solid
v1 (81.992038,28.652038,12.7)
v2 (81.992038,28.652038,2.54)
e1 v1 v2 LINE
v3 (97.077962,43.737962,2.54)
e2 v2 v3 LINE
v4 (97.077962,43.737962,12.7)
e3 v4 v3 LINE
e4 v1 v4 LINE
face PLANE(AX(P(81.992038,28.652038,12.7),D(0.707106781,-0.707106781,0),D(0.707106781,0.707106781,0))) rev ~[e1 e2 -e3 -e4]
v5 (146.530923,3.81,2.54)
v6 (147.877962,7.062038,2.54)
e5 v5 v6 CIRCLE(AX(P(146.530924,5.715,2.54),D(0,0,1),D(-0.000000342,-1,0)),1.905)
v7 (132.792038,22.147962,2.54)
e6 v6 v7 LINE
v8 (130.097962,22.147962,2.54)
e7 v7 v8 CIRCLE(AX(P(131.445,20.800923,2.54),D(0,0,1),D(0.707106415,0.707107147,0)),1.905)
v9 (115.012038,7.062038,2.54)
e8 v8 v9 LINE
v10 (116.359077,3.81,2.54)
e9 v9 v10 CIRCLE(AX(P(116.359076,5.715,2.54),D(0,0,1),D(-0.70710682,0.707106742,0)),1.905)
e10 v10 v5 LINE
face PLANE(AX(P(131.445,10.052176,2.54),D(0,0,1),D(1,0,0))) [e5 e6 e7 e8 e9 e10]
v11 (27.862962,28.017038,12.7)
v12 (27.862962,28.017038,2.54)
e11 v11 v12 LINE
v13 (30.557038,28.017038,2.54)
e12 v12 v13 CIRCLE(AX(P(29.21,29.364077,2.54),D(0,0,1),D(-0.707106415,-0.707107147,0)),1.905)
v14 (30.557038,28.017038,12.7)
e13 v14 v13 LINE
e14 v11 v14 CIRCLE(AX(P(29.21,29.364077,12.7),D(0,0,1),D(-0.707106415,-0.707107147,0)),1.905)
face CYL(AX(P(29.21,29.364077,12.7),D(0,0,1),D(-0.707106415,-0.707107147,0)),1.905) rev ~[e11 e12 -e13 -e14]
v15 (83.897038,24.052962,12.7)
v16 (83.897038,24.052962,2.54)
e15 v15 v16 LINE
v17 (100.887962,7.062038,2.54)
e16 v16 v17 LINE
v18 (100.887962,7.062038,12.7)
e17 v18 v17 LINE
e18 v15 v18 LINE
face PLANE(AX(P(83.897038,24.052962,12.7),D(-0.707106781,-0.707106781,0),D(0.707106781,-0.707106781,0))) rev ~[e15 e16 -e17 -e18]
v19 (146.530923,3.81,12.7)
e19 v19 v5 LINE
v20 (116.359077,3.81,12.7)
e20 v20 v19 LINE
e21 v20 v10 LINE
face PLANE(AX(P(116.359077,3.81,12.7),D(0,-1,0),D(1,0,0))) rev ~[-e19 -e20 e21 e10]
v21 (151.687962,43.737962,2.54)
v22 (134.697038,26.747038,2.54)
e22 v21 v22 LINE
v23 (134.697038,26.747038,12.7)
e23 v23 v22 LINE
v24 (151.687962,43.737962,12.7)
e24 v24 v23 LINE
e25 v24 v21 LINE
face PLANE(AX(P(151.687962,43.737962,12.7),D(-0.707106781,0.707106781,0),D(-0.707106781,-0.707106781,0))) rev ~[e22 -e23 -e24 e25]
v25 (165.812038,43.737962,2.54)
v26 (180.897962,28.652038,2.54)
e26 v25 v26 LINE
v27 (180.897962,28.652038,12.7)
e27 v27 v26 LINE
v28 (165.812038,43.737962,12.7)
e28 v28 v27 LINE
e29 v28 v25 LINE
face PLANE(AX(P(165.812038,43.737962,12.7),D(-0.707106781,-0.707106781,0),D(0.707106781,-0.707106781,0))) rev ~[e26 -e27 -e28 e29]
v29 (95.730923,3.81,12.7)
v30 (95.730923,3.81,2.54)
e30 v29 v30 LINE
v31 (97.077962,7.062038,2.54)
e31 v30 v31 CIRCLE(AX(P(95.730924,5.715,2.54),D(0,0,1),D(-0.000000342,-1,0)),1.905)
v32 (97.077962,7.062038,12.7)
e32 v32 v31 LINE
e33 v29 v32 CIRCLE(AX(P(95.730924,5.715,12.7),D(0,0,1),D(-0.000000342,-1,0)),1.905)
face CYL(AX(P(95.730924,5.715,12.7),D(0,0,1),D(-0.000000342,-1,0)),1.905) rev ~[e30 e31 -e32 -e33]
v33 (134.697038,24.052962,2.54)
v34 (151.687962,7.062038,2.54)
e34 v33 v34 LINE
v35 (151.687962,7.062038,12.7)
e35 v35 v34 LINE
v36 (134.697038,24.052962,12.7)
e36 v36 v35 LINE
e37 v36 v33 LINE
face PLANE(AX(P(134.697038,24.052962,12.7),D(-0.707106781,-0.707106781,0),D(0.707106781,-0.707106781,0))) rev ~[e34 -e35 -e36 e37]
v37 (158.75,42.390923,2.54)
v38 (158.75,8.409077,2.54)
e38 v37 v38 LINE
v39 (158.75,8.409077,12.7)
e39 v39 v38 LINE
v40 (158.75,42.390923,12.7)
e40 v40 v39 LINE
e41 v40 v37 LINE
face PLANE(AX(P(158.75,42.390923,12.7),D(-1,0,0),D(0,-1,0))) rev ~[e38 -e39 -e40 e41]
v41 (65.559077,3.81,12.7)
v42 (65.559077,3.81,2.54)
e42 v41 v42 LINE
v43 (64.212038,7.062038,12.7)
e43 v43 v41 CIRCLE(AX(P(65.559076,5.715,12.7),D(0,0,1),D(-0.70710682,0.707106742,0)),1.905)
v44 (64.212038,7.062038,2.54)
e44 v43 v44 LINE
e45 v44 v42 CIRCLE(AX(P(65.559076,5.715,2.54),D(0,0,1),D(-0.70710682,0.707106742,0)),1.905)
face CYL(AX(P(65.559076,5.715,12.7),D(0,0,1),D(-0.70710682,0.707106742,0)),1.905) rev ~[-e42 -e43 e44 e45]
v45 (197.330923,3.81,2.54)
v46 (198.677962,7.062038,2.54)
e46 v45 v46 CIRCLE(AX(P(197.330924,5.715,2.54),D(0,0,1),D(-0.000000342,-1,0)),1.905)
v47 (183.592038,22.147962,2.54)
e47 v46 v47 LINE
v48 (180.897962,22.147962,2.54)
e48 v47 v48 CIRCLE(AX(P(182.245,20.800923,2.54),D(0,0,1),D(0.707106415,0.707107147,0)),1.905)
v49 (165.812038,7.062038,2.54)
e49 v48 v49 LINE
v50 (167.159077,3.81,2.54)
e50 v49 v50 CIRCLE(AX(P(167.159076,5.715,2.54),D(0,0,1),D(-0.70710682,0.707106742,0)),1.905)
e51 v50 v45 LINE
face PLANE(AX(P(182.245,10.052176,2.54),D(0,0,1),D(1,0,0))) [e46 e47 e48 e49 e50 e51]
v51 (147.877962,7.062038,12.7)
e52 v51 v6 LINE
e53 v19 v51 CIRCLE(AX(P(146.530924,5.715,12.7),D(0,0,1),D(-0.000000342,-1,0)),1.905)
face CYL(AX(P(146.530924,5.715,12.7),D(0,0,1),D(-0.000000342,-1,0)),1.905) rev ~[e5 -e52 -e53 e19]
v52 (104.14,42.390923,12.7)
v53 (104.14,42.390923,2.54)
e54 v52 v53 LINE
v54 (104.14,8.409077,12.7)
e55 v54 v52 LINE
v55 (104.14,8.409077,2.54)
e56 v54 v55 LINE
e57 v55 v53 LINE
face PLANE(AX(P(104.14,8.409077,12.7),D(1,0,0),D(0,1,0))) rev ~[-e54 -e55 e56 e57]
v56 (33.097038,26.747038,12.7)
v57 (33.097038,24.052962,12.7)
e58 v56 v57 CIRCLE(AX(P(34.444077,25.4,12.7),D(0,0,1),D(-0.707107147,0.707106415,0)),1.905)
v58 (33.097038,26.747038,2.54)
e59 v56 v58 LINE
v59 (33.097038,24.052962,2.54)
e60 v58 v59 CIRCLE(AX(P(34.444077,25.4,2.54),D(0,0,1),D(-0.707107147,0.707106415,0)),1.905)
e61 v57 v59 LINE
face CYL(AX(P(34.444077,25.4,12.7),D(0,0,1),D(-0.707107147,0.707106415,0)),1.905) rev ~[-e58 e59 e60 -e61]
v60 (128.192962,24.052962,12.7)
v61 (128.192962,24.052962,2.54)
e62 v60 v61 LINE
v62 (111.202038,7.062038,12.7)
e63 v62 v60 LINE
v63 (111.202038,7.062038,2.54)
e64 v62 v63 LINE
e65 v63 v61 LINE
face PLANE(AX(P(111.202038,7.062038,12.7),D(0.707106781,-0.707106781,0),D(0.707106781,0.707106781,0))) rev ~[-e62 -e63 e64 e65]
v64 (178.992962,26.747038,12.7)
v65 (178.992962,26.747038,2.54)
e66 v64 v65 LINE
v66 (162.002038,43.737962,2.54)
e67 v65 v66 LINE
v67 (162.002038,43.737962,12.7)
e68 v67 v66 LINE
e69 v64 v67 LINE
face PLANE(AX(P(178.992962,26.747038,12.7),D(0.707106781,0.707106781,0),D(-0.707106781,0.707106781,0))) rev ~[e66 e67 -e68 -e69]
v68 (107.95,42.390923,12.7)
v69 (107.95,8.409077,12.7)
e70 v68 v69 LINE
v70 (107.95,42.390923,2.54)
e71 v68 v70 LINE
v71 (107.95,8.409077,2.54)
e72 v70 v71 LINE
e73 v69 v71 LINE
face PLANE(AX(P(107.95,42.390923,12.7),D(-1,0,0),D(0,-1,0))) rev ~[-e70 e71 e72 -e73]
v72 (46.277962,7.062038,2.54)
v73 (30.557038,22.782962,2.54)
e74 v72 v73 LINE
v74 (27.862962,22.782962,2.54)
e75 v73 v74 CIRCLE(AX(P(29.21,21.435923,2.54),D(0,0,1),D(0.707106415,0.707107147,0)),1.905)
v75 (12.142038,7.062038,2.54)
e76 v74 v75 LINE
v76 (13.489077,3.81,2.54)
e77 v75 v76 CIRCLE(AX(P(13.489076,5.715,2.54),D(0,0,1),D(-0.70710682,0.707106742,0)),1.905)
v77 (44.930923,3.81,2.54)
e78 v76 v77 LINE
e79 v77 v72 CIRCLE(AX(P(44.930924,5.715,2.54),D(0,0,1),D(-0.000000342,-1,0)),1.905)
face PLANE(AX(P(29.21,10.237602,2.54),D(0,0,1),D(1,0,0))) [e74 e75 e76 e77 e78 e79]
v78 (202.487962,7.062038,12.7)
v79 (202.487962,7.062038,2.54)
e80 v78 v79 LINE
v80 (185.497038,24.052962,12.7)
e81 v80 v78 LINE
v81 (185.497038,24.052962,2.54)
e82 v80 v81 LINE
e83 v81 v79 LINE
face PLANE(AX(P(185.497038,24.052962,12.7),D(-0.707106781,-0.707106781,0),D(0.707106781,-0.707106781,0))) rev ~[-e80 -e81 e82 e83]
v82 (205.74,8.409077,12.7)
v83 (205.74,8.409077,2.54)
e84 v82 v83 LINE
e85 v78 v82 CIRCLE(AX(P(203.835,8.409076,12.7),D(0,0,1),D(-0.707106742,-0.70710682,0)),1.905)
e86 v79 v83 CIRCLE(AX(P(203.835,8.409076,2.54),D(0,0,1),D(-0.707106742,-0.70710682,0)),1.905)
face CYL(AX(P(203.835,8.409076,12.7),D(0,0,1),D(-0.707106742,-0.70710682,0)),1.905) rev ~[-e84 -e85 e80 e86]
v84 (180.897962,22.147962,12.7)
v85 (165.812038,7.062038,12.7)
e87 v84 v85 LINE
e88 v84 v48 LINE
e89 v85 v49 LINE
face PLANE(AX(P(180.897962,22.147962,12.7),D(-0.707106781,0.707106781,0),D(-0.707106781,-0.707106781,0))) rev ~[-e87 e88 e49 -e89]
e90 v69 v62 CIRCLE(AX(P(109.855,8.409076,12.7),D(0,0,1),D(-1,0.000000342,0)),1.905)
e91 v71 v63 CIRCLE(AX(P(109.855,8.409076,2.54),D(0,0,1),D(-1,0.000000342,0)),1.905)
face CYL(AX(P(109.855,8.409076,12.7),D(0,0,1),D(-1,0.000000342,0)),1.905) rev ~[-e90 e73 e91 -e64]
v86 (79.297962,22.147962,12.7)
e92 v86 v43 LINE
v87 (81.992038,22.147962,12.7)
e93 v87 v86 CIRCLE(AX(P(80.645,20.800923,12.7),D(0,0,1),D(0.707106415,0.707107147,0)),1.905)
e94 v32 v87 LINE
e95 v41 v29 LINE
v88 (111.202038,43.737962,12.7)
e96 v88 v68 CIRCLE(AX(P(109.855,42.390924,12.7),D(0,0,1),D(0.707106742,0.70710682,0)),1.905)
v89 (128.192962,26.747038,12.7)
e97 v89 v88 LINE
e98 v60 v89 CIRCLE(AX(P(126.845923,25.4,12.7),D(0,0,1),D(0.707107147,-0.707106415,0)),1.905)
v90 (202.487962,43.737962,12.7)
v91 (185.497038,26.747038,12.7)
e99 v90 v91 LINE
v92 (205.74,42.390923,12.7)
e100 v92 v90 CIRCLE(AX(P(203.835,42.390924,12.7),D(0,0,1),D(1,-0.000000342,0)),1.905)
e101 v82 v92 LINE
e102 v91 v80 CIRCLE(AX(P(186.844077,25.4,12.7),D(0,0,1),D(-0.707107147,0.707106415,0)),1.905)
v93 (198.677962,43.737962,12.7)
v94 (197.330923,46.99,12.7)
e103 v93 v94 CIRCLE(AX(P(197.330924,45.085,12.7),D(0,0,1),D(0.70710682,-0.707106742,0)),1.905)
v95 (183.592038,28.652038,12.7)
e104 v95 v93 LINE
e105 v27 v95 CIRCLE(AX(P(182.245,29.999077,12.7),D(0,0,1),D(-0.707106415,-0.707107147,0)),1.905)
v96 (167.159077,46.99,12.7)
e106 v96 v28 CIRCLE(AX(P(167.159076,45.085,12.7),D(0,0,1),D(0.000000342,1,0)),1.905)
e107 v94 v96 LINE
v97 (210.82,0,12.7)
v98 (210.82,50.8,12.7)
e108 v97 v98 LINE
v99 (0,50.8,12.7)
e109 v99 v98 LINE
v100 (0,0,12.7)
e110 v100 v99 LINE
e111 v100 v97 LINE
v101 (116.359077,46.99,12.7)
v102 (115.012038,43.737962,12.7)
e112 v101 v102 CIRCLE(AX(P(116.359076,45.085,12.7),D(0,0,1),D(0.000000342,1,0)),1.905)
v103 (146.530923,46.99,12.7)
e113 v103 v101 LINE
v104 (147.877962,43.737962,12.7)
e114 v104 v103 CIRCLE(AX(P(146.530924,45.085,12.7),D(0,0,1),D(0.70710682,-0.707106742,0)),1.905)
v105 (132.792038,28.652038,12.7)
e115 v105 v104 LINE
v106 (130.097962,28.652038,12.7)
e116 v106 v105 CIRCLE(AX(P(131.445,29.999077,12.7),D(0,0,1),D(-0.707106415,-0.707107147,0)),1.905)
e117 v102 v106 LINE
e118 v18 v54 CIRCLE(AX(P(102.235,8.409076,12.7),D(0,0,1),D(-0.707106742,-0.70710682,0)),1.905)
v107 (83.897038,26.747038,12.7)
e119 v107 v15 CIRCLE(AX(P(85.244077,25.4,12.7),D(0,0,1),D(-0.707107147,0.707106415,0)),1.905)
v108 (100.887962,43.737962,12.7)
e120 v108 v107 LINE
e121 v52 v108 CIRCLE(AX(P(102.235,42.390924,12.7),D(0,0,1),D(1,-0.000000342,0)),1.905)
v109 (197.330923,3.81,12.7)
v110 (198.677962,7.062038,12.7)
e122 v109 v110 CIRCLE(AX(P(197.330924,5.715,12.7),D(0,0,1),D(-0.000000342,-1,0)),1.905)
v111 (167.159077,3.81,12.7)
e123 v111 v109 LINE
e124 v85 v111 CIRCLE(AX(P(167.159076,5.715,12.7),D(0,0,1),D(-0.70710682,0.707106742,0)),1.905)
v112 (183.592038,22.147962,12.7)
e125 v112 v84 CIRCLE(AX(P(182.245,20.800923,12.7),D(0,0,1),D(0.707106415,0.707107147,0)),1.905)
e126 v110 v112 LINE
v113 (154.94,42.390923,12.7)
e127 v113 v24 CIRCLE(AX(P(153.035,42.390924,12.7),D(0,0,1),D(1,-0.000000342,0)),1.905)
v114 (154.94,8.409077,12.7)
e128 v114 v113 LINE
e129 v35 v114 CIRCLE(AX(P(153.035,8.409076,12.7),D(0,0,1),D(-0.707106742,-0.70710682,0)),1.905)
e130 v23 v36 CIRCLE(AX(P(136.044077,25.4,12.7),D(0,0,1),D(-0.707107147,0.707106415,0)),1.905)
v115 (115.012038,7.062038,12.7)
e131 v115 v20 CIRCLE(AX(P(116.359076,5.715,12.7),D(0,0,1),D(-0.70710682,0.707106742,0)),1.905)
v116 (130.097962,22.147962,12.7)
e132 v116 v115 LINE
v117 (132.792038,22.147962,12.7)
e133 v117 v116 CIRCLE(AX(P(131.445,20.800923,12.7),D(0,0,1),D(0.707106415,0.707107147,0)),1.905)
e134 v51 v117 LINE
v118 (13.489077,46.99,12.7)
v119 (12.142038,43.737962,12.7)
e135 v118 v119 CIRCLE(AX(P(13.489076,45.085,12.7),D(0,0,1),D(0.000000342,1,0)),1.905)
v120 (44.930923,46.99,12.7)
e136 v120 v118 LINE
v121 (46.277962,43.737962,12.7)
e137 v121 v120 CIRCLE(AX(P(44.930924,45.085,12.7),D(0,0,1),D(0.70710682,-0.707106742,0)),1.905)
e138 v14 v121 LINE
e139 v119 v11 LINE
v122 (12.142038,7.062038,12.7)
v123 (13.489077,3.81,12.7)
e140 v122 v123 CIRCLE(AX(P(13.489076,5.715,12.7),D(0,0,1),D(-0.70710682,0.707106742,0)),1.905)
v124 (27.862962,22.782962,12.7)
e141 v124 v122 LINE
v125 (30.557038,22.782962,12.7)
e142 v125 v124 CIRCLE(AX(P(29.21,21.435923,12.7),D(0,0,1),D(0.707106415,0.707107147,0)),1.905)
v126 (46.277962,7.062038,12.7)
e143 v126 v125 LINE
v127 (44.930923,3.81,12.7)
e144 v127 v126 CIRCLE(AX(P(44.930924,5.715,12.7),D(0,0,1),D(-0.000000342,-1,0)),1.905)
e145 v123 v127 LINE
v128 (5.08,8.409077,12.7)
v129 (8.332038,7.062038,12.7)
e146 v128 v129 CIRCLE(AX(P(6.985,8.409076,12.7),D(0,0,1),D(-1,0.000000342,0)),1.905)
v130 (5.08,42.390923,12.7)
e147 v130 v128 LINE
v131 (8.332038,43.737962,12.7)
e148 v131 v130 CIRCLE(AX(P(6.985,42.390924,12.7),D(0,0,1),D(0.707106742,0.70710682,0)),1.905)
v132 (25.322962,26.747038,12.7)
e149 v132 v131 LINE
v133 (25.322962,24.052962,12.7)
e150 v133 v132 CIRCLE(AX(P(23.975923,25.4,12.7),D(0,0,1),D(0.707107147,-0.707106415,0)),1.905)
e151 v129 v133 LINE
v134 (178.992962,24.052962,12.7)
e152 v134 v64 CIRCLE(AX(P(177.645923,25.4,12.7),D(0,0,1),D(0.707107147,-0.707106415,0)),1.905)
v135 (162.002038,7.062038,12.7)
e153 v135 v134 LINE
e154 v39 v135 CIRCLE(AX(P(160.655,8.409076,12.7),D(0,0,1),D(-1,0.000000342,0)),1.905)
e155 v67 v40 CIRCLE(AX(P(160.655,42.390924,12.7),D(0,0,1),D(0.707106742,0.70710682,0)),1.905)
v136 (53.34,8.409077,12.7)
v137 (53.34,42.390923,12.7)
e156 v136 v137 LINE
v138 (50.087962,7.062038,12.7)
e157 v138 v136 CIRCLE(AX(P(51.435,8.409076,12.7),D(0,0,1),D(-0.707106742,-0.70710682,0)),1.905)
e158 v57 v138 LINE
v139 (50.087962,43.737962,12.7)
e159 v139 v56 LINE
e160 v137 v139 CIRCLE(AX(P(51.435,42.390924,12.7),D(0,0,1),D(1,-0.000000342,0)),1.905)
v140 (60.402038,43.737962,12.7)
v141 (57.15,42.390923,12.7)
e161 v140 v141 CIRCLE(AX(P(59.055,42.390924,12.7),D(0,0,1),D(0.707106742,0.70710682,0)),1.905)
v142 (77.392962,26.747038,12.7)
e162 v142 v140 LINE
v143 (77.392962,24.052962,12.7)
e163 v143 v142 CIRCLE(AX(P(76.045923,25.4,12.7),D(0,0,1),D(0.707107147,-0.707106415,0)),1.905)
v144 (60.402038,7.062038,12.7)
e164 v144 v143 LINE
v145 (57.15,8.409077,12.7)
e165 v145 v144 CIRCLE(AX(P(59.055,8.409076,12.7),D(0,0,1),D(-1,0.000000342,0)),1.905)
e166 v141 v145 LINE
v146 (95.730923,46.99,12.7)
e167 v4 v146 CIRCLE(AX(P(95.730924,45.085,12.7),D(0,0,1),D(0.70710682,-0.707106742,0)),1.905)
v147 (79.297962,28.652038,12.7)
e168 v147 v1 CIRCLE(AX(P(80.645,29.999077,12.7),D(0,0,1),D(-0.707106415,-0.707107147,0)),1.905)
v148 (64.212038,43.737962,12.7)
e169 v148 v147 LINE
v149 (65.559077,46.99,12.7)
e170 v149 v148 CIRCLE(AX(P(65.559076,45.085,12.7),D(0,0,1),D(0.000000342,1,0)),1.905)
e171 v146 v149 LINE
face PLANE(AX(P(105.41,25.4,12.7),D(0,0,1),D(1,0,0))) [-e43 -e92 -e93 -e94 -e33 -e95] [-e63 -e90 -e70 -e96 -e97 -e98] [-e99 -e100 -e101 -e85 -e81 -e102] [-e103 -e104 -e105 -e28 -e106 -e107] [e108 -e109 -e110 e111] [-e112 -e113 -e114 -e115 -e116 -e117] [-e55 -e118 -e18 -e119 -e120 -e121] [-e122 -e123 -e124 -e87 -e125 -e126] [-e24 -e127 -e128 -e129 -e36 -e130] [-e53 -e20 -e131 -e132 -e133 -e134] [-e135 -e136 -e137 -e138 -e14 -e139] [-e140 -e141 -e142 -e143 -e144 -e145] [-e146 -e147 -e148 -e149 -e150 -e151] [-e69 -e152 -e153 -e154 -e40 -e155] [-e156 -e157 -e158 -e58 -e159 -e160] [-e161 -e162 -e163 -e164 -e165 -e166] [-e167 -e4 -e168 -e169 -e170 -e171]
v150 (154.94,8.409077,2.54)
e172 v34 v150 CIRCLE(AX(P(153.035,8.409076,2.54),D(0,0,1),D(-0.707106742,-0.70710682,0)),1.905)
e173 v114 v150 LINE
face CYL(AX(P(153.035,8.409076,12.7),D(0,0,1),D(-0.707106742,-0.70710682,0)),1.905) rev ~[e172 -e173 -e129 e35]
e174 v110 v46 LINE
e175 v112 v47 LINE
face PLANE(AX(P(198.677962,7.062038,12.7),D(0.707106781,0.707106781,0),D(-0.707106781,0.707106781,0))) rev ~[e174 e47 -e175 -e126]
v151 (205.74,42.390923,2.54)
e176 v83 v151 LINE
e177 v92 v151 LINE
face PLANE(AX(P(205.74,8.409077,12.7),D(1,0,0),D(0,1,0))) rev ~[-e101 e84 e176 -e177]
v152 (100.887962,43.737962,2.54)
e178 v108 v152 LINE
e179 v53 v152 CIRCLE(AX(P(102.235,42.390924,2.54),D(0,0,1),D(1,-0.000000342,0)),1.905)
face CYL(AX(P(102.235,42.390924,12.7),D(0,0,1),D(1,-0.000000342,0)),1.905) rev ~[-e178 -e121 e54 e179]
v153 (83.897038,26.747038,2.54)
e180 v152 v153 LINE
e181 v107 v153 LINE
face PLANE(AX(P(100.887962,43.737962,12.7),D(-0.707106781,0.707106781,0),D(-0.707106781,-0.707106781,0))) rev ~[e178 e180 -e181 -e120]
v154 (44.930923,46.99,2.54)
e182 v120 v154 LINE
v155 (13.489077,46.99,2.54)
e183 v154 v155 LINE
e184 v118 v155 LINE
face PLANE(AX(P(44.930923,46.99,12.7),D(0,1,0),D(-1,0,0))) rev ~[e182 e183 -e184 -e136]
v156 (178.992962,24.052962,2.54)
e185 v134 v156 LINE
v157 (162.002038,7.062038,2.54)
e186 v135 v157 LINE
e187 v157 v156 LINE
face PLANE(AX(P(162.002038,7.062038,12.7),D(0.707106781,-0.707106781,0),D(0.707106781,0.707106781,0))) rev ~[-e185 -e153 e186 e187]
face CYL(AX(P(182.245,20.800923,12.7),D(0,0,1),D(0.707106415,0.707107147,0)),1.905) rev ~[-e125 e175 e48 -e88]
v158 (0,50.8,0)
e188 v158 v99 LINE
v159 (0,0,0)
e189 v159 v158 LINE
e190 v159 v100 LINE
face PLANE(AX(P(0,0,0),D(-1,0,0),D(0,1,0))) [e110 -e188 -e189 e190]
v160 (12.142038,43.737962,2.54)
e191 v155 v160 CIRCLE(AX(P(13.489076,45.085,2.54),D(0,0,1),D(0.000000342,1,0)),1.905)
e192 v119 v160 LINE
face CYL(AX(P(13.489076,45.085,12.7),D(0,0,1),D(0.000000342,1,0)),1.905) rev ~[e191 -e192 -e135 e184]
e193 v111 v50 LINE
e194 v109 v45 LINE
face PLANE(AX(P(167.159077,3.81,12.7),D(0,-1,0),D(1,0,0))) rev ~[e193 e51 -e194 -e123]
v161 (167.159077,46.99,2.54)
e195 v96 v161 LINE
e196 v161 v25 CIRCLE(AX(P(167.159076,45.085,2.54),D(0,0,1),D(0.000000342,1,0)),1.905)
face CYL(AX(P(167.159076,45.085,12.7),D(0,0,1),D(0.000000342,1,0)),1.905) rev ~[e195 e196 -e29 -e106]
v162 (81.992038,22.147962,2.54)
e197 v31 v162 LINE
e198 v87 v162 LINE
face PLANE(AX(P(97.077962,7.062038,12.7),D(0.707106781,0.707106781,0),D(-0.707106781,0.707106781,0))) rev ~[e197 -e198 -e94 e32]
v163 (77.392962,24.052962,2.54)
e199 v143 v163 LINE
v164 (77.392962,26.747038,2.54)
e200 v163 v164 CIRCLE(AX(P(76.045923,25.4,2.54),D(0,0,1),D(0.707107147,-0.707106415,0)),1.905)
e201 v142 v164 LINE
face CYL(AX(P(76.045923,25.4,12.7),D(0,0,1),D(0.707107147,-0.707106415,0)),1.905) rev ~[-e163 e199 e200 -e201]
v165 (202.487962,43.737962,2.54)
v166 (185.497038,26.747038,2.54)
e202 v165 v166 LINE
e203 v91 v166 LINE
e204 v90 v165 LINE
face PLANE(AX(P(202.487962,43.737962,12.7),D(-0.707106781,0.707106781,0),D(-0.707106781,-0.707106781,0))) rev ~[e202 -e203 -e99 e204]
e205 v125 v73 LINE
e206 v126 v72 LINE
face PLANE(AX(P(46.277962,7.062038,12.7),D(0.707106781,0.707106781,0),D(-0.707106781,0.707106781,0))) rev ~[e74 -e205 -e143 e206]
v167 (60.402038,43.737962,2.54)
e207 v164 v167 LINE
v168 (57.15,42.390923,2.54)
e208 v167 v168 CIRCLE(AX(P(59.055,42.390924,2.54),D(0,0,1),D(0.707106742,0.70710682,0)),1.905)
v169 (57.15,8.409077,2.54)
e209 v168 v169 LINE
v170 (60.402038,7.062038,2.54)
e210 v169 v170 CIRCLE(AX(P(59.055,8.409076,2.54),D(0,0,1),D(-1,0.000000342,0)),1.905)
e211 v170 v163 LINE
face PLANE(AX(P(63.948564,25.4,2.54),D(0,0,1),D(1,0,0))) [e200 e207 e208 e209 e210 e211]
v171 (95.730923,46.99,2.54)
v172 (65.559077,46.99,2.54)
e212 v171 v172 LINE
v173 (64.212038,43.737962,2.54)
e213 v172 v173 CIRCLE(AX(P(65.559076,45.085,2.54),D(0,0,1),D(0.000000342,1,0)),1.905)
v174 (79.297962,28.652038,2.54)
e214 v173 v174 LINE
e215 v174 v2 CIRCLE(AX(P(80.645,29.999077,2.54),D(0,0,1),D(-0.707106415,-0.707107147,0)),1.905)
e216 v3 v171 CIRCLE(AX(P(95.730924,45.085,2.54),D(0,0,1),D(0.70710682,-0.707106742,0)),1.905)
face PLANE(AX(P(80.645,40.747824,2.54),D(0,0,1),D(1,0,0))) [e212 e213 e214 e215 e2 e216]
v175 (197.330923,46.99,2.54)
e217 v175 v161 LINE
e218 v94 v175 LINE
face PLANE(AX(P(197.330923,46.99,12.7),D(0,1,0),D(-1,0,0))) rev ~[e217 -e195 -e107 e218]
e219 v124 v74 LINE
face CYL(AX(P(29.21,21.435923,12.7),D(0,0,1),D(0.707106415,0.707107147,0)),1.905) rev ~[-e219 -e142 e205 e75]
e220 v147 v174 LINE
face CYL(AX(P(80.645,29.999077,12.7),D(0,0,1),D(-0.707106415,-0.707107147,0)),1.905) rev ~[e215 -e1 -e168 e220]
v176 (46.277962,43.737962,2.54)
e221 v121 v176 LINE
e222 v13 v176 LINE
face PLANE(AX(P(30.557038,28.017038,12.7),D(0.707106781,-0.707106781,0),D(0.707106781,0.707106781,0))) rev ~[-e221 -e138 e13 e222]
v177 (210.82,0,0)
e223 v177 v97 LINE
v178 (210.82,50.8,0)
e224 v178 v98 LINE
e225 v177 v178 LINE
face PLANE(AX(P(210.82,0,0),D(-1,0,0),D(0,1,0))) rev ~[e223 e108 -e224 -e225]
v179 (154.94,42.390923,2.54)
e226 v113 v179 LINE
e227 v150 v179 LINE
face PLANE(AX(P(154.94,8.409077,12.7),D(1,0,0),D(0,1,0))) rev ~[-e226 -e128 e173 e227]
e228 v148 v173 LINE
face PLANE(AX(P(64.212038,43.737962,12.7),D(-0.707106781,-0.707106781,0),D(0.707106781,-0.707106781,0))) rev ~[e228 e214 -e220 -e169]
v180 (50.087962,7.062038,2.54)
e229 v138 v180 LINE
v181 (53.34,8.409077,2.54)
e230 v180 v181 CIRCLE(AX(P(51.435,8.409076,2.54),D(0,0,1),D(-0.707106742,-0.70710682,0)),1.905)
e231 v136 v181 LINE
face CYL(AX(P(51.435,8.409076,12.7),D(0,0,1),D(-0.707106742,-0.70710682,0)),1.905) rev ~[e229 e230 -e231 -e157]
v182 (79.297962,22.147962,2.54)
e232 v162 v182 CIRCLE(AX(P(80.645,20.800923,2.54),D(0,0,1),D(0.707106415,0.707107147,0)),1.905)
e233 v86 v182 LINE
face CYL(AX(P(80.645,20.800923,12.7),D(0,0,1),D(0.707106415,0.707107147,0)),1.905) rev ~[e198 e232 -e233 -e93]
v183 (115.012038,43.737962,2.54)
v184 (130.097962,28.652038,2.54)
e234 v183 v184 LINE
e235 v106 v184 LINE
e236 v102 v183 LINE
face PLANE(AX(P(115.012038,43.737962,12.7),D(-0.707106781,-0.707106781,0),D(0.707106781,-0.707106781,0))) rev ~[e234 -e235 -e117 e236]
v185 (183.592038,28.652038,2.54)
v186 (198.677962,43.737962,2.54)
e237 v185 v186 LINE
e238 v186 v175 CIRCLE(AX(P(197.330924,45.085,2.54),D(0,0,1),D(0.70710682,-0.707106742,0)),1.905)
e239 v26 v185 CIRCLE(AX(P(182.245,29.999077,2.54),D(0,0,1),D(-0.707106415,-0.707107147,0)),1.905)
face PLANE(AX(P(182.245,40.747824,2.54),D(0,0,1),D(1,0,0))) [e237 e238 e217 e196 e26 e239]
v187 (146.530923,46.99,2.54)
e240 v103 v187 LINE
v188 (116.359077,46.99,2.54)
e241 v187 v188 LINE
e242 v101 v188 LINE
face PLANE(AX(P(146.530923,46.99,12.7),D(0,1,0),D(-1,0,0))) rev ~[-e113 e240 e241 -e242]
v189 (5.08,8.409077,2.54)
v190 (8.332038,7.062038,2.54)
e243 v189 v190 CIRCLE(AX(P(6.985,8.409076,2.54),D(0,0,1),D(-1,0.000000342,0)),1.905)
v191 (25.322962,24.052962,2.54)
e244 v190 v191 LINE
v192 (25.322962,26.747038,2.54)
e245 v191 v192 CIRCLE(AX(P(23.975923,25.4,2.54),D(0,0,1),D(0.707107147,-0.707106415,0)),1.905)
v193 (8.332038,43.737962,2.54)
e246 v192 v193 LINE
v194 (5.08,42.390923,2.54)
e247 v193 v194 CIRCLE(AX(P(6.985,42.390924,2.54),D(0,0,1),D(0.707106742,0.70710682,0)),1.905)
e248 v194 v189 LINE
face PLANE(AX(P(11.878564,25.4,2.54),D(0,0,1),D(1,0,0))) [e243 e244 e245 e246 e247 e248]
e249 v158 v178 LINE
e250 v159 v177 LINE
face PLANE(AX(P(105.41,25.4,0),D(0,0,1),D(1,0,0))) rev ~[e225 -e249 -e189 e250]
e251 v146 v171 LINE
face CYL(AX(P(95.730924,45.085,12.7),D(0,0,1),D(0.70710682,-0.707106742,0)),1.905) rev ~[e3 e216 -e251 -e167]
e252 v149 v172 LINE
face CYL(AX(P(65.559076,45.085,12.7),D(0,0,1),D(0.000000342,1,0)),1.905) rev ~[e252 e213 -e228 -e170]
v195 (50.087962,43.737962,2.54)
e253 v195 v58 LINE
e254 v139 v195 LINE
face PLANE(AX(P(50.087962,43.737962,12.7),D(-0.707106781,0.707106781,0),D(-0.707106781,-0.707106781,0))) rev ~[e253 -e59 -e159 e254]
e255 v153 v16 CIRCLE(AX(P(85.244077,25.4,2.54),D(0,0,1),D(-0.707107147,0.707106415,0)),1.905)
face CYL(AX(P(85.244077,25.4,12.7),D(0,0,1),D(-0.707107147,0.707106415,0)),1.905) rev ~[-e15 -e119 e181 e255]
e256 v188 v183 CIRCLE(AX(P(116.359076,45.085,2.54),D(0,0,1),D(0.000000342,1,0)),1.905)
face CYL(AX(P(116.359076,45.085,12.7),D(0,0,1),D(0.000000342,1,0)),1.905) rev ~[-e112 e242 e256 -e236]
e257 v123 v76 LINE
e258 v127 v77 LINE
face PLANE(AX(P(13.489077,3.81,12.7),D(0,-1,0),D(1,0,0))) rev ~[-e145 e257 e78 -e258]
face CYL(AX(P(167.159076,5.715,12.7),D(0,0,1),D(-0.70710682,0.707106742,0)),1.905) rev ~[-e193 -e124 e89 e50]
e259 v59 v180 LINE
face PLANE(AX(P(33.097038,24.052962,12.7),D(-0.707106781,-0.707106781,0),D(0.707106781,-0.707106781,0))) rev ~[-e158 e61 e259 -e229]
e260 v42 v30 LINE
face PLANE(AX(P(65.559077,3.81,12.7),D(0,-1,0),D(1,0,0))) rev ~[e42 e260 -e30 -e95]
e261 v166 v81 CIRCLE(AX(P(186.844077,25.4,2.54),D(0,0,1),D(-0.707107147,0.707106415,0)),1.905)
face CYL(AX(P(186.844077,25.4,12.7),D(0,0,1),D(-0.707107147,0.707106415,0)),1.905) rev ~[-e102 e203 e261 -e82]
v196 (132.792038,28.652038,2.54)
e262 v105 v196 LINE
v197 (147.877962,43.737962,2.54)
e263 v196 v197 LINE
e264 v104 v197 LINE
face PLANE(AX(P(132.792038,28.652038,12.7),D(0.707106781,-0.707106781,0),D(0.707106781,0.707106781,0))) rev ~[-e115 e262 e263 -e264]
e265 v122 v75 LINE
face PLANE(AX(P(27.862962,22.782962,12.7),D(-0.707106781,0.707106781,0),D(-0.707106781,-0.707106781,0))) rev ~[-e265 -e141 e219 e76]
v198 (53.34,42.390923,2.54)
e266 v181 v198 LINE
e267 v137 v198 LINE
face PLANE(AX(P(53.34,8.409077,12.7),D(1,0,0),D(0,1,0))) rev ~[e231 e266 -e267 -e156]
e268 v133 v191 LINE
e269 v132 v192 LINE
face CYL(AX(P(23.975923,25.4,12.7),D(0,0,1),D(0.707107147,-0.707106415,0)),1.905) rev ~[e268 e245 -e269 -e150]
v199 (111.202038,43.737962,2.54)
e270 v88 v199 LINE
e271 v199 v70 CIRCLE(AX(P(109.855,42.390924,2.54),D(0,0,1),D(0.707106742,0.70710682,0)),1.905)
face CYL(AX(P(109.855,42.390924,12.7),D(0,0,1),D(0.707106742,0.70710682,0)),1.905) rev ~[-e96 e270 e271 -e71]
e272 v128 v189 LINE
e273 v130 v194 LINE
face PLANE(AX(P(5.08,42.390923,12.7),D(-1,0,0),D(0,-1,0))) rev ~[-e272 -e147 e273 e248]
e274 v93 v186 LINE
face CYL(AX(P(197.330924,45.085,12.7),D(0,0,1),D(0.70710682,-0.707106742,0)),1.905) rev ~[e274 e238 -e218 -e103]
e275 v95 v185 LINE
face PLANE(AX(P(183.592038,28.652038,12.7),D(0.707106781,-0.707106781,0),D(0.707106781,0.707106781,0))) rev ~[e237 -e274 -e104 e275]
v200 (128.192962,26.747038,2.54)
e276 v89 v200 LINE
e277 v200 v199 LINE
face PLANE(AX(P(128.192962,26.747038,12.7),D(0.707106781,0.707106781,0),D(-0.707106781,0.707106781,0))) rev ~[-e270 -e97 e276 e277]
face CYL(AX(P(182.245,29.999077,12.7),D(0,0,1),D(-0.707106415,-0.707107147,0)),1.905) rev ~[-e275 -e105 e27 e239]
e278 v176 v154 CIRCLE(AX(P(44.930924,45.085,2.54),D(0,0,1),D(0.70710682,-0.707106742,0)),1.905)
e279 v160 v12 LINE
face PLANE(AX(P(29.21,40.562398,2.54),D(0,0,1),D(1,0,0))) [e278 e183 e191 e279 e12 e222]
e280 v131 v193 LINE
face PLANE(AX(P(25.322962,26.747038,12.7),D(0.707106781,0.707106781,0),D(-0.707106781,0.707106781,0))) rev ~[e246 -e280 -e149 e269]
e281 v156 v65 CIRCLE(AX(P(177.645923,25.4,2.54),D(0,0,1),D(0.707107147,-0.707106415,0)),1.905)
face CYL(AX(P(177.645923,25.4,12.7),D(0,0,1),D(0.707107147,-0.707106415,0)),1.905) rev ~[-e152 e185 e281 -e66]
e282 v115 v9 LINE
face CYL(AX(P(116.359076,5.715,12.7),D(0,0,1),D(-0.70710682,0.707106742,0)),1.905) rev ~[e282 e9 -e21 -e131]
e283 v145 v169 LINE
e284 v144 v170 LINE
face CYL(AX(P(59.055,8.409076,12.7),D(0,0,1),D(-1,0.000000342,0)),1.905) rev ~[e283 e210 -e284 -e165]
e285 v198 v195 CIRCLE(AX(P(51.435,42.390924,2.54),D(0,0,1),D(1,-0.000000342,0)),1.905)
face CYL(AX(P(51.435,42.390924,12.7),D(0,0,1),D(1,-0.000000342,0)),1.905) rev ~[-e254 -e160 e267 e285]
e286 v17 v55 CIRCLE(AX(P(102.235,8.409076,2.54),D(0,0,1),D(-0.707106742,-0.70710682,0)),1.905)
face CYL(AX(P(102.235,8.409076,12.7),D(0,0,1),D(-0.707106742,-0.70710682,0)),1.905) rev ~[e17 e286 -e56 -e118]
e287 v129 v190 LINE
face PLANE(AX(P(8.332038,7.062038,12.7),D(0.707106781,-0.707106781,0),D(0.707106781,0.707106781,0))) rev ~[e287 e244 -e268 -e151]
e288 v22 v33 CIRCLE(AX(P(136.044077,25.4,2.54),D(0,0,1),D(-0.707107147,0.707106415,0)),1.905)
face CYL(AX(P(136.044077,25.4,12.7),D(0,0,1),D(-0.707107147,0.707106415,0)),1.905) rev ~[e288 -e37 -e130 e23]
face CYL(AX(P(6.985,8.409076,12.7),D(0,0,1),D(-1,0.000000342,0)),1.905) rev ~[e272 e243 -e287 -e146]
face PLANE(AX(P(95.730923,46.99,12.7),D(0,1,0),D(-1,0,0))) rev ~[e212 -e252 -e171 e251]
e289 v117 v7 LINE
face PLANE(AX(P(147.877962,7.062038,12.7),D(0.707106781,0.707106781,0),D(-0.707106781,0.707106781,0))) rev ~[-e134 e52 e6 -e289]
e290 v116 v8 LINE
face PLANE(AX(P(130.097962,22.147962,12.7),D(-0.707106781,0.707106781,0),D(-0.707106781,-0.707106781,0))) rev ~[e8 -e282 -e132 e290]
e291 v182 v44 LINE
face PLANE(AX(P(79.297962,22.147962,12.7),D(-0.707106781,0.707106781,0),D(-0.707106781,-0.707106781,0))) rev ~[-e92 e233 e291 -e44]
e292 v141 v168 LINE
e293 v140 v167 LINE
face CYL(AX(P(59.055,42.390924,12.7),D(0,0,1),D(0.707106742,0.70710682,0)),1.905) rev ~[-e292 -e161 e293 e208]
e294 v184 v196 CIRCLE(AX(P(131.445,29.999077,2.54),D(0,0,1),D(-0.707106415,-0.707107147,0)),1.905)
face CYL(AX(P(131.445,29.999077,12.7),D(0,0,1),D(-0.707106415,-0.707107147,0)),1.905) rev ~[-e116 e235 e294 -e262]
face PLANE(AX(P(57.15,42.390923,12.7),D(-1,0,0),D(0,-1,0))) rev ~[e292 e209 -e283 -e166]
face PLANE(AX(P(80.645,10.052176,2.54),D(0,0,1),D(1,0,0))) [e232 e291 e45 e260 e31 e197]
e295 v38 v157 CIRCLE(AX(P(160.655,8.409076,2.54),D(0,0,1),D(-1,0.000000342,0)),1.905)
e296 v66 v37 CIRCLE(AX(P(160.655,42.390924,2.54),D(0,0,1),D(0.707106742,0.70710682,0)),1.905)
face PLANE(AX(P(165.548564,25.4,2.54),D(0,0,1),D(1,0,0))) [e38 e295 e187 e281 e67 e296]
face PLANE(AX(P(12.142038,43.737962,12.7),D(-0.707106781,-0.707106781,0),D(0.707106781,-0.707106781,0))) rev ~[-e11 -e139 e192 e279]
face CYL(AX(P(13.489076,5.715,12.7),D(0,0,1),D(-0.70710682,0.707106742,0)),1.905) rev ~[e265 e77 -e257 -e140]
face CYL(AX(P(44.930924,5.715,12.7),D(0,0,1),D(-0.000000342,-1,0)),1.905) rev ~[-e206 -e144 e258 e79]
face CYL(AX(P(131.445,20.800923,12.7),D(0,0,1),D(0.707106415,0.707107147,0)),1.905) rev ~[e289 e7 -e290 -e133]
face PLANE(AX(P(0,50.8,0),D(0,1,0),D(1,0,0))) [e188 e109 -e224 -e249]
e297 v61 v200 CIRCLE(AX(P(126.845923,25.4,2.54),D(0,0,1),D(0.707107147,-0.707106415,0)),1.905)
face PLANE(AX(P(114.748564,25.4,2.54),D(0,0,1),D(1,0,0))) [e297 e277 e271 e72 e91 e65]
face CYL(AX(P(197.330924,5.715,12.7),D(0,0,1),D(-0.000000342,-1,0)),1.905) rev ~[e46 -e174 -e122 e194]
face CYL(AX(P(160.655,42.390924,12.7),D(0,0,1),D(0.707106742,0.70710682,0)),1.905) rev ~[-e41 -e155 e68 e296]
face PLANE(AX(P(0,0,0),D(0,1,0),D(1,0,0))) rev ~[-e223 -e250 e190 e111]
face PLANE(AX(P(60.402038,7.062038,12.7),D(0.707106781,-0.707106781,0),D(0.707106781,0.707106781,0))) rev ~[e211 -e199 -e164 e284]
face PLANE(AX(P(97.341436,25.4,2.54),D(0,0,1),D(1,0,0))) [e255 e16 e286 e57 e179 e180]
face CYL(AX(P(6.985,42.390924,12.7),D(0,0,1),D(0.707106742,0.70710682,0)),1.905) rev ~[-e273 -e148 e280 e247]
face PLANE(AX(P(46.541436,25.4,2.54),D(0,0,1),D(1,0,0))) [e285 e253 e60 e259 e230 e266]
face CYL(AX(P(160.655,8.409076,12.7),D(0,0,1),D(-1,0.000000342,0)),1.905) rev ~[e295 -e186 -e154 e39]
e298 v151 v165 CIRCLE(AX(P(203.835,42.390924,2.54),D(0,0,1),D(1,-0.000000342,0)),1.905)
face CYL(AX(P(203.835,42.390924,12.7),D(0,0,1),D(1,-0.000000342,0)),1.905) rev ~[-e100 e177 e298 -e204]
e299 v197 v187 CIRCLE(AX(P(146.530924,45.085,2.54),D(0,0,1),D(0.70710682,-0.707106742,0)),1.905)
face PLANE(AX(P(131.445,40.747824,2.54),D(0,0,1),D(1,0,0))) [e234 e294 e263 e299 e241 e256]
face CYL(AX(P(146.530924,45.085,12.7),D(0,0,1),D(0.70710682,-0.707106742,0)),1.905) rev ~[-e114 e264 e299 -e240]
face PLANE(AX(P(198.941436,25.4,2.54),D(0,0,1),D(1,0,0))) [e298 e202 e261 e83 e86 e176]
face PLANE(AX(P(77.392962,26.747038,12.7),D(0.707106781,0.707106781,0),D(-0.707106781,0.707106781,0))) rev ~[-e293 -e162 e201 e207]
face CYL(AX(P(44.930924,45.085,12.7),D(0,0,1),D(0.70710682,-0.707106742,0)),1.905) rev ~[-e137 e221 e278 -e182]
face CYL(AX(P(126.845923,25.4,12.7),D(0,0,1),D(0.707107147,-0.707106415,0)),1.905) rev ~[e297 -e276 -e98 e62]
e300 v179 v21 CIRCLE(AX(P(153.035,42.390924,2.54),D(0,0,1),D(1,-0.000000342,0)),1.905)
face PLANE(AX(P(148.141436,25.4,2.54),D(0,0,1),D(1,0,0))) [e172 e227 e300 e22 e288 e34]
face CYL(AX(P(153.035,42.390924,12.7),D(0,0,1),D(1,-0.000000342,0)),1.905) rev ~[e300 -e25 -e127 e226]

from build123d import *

# Parameters (mm, degrees)
F0_W     = 210.82
F0_H     = 50.8
F1_DEPTH = 12.7
F3_DEPTH = 10.16


with BuildPart() as f1:
    # F0 (on Top) → F1 (new body)
    with BuildSketch(Plane.XY):
        with Locations((105.41, 25.4)):
            Rectangle(F0_W, F0_H)
    extrude(amount=F1_DEPTH)

    # F2 (on face) → F3 (cut)
    with BuildSketch(Plane.XY.offset(12.7)):
        with BuildLine():
            ThreePointArc((8.332038, 43.737962), (6.255988, 44.150914), (5.08, 42.390923))
            Line((5.08, 42.390923), (5.08, 8.409077))
            ThreePointArc((5.08, 8.409077), (6.255988, 6.649086), (8.332038, 7.062038))
            Line((8.332038, 7.062038), (25.322962, 24.052962))
            ThreePointArc((25.322962, 24.052962), (25.880923, 25.4), (25.322962, 26.747038))
            Line((25.322962, 26.747038), (8.332038, 43.737962))
        make_face()
        with BuildLine():
            Line((50.087962, 43.737962), (33.097038, 26.747038))
            ThreePointArc((33.097038, 26.747038), (32.539077, 25.4), (33.097038, 24.052962))
            Line((33.097038, 24.052962), (50.087962, 7.062038))
            ThreePointArc((50.087962, 7.062038), (52.164012, 6.649086), (53.34, 8.409077))
            Line((53.34, 8.409077), (53.34, 42.390923))
            ThreePointArc((53.34, 42.390923), (52.164012, 44.150914), (50.087962, 43.737962))
        make_face()
        with BuildLine():
            ThreePointArc((60.402038, 43.737962), (58.325988, 44.150914), (57.15, 42.390923))
            Line((57.15, 42.390923), (57.15, 8.409077))
            ThreePointArc((57.15, 8.409077), (58.325988, 6.649086), (60.402038, 7.062038))
            Line((60.402038, 7.062038), (77.392962, 24.052962))
            ThreePointArc((77.392962, 24.052962), (77.950923, 25.4), (77.392962, 26.747038))
            Line((77.392962, 26.747038), (60.402038, 43.737962))
        make_face()
        with BuildLine():
            Line((104.14, 8.409077), (104.14, 42.390923))
            ThreePointArc((104.14, 42.390923), (102.964012, 44.150914), (100.887962, 43.737962))
            Line((100.887962, 43.737962), (83.897038, 26.747038))
            ThreePointArc((83.897038, 26.747038), (83.339077, 25.4), (83.897038, 24.052962))
            Line((83.897038, 24.052962), (100.887962, 7.062038))
            ThreePointArc((100.887962, 7.062038), (102.964012, 6.649086), (104.14, 8.409077))
        make_face()
        with BuildLine():
            ThreePointArc((111.202038, 43.737962), (109.125988, 44.150914), (107.95, 42.390923))
            Line((107.95, 42.390923), (107.95, 8.409077))
            ThreePointArc((107.95, 8.409077), (109.125988, 6.649086), (111.202038, 7.062038))
            Line((111.202038, 7.062038), (128.192962, 24.052962))
            ThreePointArc((128.192962, 24.052962), (128.750923, 25.4), (128.192962, 26.747038))
            Line((128.192962, 26.747038), (111.202038, 43.737962))
        make_face()
        with BuildLine():
            Line((154.94, 8.409077), (154.94, 42.390923))
            ThreePointArc((154.94, 42.390923), (153.764012, 44.150914), (151.687962, 43.737962))
            Line((151.687962, 43.737962), (134.697038, 26.747038))
            ThreePointArc((134.697038, 26.747038), (134.139077, 25.4), (134.697038, 24.052962))
            Line((134.697038, 24.052962), (151.687962, 7.062038))
            ThreePointArc((151.687962, 7.062038), (153.764012, 6.649086), (154.94, 8.409077))
        make_face()
        with BuildLine():
            ThreePointArc((162.002038, 43.737962), (159.925988, 44.150914), (158.75, 42.390923))
            Line((158.75, 42.390923), (158.75, 8.409077))
            ThreePointArc((158.75, 8.409077), (159.925988, 6.649086), (162.002038, 7.062038))
            Line((162.002038, 7.062038), (178.992962, 24.052962))
            ThreePointArc((178.992962, 24.052962), (179.550923, 25.4), (178.992962, 26.747038))
            Line((178.992962, 26.747038), (162.002038, 43.737962))
        make_face()
        with BuildLine():
            Line((205.74, 8.409077), (205.74, 42.390923))
            ThreePointArc((205.74, 42.390923), (204.564012, 44.150914), (202.487962, 43.737962))
            Line((202.487962, 43.737962), (185.497038, 26.747038))
            ThreePointArc((185.497038, 26.747038), (184.939077, 25.4), (185.497038, 24.052962))
            Line((185.497038, 24.052962), (202.487962, 7.062038))
            ThreePointArc((202.487962, 7.062038), (204.564012, 6.649086), (205.74, 8.409077))
        make_face()
        with BuildLine():
            Line((44.930923, 46.99), (13.489077, 46.99))
            ThreePointArc((13.489077, 46.99), (11.729086, 45.814012), (12.142038, 43.737962))
            Line((12.142038, 43.737962), (27.862962, 28.017038))
            ThreePointArc((27.862962, 28.017038), (29.21, 27.459077), (30.557038, 28.017038))
            Line((30.557038, 28.017038), (46.277962, 43.737962))
            ThreePointArc((46.277962, 43.737962), (46.690914, 45.814012), (44.930923, 46.99))
        make_face()
        with BuildLine():
            ThreePointArc((12.142038, 7.062038), (11.729086, 4.985988), (13.489077, 3.81))
            Line((13.489077, 3.81), (44.930923, 3.81))
            ThreePointArc((44.930923, 3.81), (46.690914, 4.985988), (46.277962, 7.062038))
            Line((46.277962, 7.062038), (30.557038, 22.782962))
            ThreePointArc((30.557038, 22.782962), (29.21, 23.340923), (27.862962, 22.782962))
            Line((27.862962, 22.782962), (12.142038, 7.062038))
        make_face()
        with BuildLine():
            Line((95.730923, 46.99), (65.559077, 46.99))
            ThreePointArc((65.559077, 46.99), (63.799086, 45.814012), (64.212038, 43.737962))
            Line((64.212038, 43.737962), (79.297962, 28.652038))
            ThreePointArc((79.297962, 28.652038), (80.645, 28.094077), (81.992038, 28.652038))
            Line((81.992038, 28.652038), (97.077962, 43.737962))
            ThreePointArc((97.077962, 43.737962), (97.490914, 45.814012), (95.730923, 46.99))
        make_face()
        with BuildLine():
            ThreePointArc((64.212038, 7.062038), (63.799086, 4.985988), (65.559077, 3.81))
            Line((65.559077, 3.81), (95.730923, 3.81))
            ThreePointArc((95.730923, 3.81), (97.490914, 4.985988), (97.077962, 7.062038))
            Line((97.077962, 7.062038), (81.992038, 22.147962))
            ThreePointArc((81.992038, 22.147962), (80.645, 22.705923), (79.297962, 22.147962))
            Line((79.297962, 22.147962), (64.212038, 7.062038))
        make_face()
        with BuildLine():
            Line((146.530923, 46.99), (116.359077, 46.99))
            ThreePointArc((116.359077, 46.99), (114.599086, 45.814012), (115.012038, 43.737962))
            Line((115.012038, 43.737962), (130.097962, 28.652038))
            ThreePointArc((130.097962, 28.652038), (131.445, 28.094077), (132.792038, 28.652038))
            Line((132.792038, 28.652038), (147.877962, 43.737962))
            ThreePointArc((147.877962, 43.737962), (148.290914, 45.814012), (146.530923, 46.99))
        make_face()
        with BuildLine():
            ThreePointArc((115.012038, 7.062038), (114.599086, 4.985988), (116.359077, 3.81))
            Line((116.359077, 3.81), (146.530923, 3.81))
            ThreePointArc((146.530923, 3.81), (148.290914, 4.985988), (147.877962, 7.062038))
            Line((147.877962, 7.062038), (132.792038, 22.147962))
            ThreePointArc((132.792038, 22.147962), (131.445, 22.705923), (130.097962, 22.147962))
            Line((130.097962, 22.147962), (115.012038, 7.062038))
        make_face()
        with BuildLine():
            Line((197.330923, 46.99), (167.159077, 46.99))
            ThreePointArc((167.159077, 46.99), (165.399086, 45.814012), (165.812038, 43.737962))
            Line((165.812038, 43.737962), (180.897962, 28.652038))
            ThreePointArc((180.897962, 28.652038), (182.245, 28.094077), (183.592038, 28.652038))
            Line((183.592038, 28.652038), (198.677962, 43.737962))
            ThreePointArc((198.677962, 43.737962), (199.090914, 45.814012), (197.330923, 46.99))
        make_face()
        with BuildLine():
            ThreePointArc((165.812038, 7.062038), (165.399086, 4.985988), (167.159077, 3.81))
            Line((167.159077, 3.81), (197.330923, 3.81))
            ThreePointArc((197.330923, 3.81), (199.090914, 4.985988), (198.677962, 7.062038))
            Line((198.677962, 7.062038), (183.592038, 22.147962))
            ThreePointArc((183.592038, 22.147962), (182.245, 22.705923), (180.897962, 22.147962))
            Line((180.897962, 22.147962), (165.812038, 7.062038))
        make_face()
    extrude(amount=-F3_DEPTH, mode=Mode.SUBTRACT)


solid = f1.part
